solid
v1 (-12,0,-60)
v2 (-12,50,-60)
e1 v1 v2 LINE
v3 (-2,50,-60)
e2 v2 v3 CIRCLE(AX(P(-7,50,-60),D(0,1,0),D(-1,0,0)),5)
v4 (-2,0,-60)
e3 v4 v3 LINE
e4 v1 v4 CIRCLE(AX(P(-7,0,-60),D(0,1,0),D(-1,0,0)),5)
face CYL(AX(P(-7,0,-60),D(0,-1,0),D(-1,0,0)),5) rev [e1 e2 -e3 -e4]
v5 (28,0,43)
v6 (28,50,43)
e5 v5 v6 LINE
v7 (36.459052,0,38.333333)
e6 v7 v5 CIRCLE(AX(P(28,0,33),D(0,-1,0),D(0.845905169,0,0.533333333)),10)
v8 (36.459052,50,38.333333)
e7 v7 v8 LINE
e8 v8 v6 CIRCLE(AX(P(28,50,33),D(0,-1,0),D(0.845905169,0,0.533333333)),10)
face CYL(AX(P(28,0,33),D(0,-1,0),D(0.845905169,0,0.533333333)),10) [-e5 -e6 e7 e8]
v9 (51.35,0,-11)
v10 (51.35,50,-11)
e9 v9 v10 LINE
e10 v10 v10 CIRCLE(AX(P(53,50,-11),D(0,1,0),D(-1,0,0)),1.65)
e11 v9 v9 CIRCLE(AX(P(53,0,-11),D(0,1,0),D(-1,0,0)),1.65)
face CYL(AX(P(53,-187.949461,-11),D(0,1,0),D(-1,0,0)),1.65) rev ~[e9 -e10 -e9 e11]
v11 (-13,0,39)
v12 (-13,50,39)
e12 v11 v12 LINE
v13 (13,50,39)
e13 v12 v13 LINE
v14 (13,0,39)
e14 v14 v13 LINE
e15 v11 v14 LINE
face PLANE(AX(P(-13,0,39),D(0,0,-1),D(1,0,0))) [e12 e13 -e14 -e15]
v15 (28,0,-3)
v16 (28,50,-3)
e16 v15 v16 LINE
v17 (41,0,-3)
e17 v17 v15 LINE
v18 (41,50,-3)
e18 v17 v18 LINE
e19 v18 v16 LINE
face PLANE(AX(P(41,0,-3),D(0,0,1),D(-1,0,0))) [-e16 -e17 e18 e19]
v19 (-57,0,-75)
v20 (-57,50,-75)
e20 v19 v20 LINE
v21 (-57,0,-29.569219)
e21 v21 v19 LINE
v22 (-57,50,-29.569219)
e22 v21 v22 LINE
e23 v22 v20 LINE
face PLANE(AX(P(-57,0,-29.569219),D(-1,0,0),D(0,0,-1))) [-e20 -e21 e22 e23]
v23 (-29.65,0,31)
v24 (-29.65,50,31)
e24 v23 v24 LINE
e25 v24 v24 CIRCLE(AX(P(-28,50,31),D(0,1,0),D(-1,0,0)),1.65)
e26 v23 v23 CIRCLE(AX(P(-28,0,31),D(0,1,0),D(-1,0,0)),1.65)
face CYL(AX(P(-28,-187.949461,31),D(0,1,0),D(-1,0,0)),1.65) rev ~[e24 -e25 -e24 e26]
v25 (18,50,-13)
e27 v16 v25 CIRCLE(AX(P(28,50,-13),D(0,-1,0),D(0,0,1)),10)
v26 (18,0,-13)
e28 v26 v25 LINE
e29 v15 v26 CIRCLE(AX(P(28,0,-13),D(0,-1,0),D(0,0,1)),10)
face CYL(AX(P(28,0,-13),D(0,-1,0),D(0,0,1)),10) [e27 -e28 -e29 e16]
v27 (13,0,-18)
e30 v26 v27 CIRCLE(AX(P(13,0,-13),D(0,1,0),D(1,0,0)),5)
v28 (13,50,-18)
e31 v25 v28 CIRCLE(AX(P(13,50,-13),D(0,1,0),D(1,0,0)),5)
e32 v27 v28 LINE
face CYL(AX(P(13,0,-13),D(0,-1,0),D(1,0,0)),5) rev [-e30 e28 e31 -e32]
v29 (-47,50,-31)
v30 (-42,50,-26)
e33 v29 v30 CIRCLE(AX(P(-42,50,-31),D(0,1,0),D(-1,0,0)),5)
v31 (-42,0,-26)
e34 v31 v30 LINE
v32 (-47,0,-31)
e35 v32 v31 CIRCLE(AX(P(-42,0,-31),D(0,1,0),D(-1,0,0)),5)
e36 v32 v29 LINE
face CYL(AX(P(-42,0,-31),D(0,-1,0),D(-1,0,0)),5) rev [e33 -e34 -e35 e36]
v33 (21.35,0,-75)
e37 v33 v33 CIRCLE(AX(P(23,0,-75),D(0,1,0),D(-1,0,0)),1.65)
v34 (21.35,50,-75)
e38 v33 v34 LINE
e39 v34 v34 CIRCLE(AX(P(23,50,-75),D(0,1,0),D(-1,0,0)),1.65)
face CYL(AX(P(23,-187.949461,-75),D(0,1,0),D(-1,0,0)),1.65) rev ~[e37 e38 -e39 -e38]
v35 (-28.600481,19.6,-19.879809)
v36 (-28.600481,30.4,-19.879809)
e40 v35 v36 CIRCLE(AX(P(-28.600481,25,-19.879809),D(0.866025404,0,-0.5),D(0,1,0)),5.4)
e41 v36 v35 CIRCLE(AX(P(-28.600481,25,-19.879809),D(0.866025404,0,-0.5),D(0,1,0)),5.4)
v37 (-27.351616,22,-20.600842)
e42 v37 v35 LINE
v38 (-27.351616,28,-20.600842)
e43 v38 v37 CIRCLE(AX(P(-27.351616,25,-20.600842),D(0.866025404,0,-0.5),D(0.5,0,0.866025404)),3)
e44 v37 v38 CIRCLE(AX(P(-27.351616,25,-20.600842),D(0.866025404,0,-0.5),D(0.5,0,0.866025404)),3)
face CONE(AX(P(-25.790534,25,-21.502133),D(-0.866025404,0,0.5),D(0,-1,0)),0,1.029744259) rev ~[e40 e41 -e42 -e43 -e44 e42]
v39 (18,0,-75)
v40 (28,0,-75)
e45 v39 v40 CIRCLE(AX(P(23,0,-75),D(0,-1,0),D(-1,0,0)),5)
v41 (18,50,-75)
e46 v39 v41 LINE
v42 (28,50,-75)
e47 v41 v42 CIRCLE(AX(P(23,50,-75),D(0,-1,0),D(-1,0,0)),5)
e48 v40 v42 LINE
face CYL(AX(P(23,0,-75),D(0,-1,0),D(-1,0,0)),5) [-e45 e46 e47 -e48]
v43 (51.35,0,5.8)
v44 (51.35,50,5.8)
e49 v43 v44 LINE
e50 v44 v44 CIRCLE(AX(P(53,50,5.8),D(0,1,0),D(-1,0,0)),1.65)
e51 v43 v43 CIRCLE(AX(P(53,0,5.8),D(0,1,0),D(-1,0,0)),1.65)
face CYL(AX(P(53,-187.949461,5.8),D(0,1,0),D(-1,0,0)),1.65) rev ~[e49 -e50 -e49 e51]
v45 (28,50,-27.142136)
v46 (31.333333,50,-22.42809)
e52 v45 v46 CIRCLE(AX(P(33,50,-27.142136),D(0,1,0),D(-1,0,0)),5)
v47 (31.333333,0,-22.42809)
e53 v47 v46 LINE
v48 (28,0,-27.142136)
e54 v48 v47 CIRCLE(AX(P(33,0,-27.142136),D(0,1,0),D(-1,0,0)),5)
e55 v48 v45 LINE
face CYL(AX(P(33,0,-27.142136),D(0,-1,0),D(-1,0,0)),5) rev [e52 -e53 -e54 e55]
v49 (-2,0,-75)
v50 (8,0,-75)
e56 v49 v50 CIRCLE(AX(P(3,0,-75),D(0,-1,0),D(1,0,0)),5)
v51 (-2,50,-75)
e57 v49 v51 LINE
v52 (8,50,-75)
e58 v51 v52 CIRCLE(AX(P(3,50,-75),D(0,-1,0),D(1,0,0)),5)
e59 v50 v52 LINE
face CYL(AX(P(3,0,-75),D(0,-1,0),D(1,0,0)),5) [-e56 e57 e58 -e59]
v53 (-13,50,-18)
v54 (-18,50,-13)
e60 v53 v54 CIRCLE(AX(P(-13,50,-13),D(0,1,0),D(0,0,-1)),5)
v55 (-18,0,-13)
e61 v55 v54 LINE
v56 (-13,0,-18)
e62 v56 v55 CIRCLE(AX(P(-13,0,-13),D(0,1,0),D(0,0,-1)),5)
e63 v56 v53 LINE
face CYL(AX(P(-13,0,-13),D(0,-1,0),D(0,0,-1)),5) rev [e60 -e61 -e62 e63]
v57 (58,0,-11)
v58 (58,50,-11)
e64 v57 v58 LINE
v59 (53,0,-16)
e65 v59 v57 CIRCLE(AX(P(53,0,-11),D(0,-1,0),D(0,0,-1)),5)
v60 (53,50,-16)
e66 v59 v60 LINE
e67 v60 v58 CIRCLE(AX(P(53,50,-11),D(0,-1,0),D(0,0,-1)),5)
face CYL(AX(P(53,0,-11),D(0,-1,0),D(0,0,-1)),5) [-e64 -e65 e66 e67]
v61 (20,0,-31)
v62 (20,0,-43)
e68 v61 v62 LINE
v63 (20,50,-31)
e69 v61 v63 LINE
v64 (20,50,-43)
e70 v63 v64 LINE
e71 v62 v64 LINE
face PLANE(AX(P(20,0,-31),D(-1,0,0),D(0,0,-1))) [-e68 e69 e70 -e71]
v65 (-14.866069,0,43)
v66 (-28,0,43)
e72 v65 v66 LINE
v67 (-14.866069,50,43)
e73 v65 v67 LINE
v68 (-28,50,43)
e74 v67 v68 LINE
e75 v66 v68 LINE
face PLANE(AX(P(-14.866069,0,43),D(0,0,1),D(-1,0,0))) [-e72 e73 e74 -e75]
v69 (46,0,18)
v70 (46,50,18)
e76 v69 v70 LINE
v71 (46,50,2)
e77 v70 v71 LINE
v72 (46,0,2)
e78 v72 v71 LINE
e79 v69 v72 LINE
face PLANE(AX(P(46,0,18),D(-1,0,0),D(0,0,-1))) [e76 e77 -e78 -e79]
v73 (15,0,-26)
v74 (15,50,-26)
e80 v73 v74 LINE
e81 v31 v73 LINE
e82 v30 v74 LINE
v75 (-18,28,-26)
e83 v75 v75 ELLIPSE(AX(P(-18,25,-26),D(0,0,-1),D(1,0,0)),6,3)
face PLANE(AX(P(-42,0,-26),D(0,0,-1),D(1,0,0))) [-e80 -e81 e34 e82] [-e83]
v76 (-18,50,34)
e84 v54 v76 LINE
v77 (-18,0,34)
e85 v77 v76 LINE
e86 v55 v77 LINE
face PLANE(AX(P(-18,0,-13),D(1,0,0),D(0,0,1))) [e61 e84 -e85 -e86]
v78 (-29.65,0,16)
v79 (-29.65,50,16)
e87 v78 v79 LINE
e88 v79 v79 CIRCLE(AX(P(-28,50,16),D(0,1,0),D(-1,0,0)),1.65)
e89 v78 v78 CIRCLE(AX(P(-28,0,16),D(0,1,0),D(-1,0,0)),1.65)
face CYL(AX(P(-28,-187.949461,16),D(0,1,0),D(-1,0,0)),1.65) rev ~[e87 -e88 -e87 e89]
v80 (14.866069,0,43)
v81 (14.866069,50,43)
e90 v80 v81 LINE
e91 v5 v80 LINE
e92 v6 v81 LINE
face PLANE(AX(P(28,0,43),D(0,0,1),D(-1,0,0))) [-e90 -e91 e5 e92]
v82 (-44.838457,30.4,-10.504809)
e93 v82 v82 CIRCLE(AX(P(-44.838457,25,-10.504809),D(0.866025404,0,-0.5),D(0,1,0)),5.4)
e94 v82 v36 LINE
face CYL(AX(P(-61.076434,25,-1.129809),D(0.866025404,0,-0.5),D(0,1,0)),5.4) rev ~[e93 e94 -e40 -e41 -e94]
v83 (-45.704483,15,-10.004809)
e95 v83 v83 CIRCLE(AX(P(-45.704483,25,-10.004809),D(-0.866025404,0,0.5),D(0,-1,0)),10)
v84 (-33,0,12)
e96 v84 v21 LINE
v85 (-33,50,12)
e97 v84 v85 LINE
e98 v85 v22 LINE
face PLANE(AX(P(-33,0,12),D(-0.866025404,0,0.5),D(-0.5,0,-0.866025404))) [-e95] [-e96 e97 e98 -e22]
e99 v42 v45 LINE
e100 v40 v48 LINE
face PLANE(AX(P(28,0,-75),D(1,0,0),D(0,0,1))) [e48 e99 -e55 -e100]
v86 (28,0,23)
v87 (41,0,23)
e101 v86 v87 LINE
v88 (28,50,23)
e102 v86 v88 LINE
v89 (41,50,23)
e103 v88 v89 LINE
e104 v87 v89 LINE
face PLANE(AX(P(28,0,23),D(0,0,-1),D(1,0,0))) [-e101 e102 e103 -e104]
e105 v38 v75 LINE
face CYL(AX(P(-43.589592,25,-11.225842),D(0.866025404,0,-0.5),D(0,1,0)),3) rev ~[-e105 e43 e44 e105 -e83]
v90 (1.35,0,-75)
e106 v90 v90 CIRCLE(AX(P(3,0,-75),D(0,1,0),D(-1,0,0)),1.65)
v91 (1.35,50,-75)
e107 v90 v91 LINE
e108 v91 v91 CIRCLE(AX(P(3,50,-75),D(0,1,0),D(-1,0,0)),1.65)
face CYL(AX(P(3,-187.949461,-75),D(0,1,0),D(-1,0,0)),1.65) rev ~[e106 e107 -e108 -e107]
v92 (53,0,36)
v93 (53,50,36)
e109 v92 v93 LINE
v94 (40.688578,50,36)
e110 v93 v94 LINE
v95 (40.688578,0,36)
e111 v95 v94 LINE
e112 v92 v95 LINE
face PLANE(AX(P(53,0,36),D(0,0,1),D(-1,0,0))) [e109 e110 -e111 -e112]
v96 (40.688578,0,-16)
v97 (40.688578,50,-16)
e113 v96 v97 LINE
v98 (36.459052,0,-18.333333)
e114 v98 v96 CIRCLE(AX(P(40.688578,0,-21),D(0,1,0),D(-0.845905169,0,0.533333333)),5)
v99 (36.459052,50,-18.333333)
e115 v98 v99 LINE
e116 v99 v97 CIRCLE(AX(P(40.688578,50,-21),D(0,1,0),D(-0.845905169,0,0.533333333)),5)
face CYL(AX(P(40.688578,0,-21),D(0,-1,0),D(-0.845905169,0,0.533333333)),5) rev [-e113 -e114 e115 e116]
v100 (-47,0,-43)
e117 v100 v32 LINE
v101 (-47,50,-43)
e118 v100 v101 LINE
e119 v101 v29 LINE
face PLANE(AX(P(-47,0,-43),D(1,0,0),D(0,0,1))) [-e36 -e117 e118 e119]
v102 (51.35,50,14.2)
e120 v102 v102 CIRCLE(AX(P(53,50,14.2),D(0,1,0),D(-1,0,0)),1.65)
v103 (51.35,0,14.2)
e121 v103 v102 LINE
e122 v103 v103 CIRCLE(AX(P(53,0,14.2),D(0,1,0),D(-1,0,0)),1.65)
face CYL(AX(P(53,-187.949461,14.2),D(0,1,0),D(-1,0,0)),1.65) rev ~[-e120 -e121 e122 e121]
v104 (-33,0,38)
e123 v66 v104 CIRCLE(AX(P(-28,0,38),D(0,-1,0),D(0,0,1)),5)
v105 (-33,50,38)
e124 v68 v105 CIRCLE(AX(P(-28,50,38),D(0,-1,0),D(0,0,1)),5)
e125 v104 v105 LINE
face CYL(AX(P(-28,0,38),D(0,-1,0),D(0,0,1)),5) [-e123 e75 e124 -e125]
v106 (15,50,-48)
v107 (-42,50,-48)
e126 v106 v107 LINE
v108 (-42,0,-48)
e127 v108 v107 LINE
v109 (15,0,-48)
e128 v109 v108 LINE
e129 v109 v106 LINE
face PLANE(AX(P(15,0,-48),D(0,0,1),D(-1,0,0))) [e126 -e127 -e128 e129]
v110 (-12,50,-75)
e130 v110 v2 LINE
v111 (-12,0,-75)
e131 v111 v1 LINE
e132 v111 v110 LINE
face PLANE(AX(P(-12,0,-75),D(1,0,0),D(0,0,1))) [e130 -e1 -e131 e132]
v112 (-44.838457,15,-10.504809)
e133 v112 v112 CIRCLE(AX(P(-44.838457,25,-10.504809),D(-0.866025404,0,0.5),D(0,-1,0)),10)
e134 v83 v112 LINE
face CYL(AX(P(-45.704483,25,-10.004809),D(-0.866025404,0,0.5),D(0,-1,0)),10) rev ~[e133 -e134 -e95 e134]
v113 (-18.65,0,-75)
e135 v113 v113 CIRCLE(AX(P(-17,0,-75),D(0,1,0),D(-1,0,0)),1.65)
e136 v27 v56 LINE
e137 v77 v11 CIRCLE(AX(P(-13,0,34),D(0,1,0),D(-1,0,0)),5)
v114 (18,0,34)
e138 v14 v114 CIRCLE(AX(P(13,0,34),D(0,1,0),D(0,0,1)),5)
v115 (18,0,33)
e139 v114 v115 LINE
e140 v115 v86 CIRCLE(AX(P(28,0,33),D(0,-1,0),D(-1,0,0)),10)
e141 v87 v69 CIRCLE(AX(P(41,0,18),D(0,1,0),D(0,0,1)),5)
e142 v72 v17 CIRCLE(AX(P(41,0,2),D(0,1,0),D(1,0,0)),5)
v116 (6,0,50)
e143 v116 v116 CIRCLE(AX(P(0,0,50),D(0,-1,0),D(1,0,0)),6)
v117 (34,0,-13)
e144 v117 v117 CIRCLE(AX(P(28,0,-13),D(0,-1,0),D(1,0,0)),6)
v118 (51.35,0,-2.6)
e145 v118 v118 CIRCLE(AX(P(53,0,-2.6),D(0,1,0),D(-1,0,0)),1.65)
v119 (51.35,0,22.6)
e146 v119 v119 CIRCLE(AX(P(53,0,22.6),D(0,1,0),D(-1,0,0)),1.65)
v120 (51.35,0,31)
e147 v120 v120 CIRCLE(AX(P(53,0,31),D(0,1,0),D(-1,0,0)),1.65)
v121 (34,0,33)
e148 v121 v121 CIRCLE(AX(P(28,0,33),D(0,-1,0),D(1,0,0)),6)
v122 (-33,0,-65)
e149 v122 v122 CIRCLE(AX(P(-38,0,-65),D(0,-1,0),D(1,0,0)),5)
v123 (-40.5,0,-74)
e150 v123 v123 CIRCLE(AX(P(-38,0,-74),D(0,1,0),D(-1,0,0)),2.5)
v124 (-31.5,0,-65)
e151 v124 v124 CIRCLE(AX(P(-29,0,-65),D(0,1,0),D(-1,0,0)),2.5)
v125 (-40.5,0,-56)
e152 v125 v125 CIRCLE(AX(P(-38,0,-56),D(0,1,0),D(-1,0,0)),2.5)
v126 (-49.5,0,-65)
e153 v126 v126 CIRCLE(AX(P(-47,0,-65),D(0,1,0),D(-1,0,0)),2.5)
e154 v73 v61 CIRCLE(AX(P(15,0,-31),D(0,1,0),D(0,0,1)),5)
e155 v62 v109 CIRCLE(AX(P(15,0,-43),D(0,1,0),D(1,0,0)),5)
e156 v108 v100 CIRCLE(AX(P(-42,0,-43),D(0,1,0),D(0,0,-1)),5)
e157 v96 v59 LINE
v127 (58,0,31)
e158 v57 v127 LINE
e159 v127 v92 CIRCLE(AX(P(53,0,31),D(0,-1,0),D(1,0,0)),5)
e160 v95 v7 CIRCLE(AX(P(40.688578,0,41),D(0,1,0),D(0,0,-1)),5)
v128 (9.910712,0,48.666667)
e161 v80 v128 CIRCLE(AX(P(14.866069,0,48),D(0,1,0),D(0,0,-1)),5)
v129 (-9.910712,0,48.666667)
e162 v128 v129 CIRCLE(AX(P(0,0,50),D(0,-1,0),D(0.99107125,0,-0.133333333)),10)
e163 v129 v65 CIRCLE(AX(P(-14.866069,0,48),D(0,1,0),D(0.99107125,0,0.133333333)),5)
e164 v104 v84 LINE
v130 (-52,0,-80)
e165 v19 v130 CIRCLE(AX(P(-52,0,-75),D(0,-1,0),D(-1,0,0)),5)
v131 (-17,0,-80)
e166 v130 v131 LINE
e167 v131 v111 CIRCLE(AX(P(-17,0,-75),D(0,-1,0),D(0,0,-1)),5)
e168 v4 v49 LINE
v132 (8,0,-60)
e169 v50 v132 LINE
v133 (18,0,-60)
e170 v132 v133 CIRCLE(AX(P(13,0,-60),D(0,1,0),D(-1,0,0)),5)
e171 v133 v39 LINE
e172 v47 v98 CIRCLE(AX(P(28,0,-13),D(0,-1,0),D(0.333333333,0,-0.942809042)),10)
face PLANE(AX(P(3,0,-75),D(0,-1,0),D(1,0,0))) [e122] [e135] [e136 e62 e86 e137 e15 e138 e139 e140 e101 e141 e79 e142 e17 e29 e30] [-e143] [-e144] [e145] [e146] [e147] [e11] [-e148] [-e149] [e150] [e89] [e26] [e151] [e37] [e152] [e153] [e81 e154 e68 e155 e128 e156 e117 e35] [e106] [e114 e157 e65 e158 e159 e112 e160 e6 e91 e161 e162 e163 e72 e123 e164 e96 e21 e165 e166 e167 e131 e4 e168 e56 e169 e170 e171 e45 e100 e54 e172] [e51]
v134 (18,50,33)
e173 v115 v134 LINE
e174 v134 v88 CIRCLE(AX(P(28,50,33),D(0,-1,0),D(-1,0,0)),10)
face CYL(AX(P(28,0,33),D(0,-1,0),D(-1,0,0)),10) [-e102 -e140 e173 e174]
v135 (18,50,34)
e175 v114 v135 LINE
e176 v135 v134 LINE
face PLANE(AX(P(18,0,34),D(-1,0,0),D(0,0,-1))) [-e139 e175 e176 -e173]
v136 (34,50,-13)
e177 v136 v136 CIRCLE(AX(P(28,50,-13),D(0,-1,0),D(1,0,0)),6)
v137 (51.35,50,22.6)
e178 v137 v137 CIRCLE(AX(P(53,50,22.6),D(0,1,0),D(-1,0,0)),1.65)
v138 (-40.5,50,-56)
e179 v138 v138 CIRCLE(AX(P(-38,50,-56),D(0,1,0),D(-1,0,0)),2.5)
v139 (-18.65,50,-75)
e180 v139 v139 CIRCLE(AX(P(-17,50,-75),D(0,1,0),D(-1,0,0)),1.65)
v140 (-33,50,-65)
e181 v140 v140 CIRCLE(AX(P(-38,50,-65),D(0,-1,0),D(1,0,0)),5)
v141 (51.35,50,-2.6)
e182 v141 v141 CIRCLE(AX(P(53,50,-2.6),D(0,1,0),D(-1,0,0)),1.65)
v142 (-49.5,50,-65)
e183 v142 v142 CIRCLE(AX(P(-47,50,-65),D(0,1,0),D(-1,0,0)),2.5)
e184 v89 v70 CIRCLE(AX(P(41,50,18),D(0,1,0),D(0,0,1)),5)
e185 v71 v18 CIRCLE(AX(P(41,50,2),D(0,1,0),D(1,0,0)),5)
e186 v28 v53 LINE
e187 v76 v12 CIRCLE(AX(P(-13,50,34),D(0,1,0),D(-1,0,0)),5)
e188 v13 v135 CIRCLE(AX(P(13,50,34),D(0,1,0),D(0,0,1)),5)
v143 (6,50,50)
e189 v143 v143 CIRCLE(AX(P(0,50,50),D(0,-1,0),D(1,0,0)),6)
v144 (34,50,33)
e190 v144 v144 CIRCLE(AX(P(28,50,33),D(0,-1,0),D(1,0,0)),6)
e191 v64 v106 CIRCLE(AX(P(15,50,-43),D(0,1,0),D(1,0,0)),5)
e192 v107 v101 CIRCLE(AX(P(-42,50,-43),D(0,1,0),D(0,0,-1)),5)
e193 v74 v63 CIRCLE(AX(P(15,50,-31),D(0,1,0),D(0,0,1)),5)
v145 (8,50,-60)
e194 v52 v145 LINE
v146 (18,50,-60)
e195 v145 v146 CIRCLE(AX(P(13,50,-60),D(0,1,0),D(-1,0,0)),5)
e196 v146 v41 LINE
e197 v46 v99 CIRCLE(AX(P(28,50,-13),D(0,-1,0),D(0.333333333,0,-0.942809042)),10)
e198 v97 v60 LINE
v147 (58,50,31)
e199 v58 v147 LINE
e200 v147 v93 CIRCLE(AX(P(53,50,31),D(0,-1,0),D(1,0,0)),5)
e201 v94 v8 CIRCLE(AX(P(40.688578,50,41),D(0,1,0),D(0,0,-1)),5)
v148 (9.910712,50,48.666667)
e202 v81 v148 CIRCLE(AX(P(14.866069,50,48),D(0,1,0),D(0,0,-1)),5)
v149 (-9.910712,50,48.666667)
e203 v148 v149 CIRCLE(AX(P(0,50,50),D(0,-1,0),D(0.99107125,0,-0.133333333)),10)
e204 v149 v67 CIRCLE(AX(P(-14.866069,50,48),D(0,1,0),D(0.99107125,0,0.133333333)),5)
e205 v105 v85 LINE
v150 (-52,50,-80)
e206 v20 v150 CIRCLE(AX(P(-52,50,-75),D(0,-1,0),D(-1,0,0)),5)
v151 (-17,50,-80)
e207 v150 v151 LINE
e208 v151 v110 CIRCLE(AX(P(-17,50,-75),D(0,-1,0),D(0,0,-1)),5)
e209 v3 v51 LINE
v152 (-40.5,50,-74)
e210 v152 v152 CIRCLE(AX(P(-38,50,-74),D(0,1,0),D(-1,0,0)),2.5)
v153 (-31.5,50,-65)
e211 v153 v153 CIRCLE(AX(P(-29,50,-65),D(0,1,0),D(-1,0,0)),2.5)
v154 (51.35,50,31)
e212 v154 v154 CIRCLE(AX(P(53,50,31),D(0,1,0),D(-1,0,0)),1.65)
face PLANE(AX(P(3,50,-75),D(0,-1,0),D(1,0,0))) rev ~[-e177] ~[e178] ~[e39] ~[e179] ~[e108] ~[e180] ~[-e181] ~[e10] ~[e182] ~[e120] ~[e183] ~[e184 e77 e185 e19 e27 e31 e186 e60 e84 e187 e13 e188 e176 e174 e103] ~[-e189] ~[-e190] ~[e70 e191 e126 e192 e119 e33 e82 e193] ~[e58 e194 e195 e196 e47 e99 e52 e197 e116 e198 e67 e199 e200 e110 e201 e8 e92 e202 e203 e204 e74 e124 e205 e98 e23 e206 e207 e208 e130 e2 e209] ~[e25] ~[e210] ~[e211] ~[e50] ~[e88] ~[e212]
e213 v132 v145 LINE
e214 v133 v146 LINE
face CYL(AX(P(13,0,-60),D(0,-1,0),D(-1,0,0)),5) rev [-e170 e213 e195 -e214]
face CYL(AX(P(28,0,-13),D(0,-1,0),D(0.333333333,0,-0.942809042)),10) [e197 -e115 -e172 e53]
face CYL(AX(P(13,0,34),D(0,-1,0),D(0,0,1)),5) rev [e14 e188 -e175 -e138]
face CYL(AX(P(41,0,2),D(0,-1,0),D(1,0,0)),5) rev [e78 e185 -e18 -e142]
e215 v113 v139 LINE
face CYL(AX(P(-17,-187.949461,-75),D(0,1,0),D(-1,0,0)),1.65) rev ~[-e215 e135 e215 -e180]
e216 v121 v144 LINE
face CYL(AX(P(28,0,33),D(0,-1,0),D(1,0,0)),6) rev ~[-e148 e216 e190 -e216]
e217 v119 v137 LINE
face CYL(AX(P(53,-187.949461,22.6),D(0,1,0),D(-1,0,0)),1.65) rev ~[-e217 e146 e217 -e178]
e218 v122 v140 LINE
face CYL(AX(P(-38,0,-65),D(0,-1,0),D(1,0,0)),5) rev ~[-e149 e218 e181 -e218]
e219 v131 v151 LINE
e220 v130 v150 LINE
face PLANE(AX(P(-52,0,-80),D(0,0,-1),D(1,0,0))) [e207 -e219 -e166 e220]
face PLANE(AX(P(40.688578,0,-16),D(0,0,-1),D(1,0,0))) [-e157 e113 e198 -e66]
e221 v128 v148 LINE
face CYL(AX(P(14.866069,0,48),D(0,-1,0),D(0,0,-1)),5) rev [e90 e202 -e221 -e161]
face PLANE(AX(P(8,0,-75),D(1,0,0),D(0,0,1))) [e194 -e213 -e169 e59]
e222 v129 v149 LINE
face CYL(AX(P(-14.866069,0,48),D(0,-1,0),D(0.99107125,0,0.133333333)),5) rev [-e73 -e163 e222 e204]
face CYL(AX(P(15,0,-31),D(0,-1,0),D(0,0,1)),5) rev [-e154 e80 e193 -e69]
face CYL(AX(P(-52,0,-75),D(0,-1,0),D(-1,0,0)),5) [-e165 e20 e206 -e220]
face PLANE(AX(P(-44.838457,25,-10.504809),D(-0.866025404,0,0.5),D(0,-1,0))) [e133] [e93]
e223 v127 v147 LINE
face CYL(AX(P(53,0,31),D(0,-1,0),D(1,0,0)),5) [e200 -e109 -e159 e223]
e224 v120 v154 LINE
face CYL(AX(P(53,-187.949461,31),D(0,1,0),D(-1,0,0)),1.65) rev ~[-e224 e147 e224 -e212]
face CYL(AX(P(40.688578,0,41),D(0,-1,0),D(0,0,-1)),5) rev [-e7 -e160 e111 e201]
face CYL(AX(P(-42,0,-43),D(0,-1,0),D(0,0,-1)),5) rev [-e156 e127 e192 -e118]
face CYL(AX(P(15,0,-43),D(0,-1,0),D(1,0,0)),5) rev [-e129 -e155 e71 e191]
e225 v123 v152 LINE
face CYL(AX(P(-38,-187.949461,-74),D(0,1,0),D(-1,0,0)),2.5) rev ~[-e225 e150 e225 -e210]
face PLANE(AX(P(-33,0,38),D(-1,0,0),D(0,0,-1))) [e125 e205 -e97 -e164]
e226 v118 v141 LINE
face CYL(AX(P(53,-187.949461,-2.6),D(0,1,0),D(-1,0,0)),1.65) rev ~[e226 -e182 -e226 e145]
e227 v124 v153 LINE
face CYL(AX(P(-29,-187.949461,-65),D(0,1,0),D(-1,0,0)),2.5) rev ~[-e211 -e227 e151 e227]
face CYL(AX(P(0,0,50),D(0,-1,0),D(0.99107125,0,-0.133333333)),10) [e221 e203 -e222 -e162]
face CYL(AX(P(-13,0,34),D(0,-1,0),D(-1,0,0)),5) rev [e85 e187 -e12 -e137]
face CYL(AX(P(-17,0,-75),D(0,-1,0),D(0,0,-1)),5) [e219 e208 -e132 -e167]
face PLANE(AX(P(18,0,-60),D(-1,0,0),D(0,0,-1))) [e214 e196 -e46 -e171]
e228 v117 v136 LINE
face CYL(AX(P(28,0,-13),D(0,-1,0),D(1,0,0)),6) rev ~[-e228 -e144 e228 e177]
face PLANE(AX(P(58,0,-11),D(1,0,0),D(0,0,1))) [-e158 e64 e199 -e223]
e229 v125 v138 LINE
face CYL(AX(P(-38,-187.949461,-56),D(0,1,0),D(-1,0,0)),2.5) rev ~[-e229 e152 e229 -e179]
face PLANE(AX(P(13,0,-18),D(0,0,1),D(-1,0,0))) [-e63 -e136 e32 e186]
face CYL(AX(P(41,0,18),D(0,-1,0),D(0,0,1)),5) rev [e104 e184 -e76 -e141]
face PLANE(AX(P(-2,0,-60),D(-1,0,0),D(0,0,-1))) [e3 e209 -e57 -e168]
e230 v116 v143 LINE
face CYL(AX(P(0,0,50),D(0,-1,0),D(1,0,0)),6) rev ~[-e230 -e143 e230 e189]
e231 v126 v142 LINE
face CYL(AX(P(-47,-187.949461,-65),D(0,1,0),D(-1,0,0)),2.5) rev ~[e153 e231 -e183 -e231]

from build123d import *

# Parameters (mm, degrees)
F2_DEPTH  = 50
F0_R      = 6
F0_R_2    = 5
F3_DEPTH  = 50.001
F4_D      = 3.3
F5_D      = 5
F7_R      = 10
F8_DEPTH  = 1
F9_D      = 10.8
F9_DEPTH  = 18.75
F9_START  = 1
F9_TIP    = 3.2446473427
F10_D     = 6
F10_DEPTH = 18.75
F10_START = 21.1920655
F10_TIP   = 1.8025818571


with BuildPart() as f2:
    # F1 (on Front) → F2 (new body)
    with BuildSketch(Plane.XZ):
        with BuildLine():
            ThreePointArc((-2, -75), (3, -80), (8, -75))
            ThreePointArc((8, -75), (3, -70), (-2, -75))
        make_face()
        with BuildLine():
            ThreePointArc((-2, -75), (3, -70), (8, -75))
            Line((8, -75), (8, -60))
            ThreePointArc((8, -60), (13, -55), (18, -60))
            Line((18, -60), (18, -75))
            ThreePointArc((18, -75), (23, -80), (28, -75))
            Line((28, -75), (28, -27.1421356237))
            ThreePointArc((28, -27.1421356237), (28.9175170954, -24.2553842778), (31.3333333333, -22.4280904158))
            ThreePointArc((31.3333333333, -22.4280904158), (34.2415418806, -20.8130119002), (36.4590516936, -18.3333333333))
            ThreePointArc((36.4590516936, -18.3333333333), (38.2733480828, -16.6220248211), (40.6885775404, -16))
            Line((40.6885775404, -16), (53, -16))
            ThreePointArc((53, -16), (56.5355339059, -14.5355339059), (58, -11))
            Line((58, -11), (58, 31))
            ThreePointArc((58, 31), (56.5355339059, 34.5355339059), (53, 36))
            Line((53, 36), (40.6885775404, 36))
            ThreePointArc((40.6885775404, 36), (38.2733480828, 36.6220248211), (36.4590516936, 38.3333333333))
            ThreePointArc((36.4590516936, 38.3333333333), (32.8304589154, 41.7559503577), (28, 43))
            Line((28, 43), (14.8660687473, 43))
            ThreePointArc((14.8660687473, 43), (11.1022054838, 44.708597057), (9.9107124982, 48.6666666667))
            ThreePointArc((9.9107124982, 48.6666666667), (0, 60), (-9.9107124982, 48.6666666667))
            ThreePointArc((-9.9107124982, 48.6666666667), (-11.1022054838, 44.708597057), (-14.8660687473, 43))
            Line((-14.8660687473, 43), (-28, 43))
            ThreePointArc((-28, 43), (-31.5355339059, 41.5355339059), (-33, 38))
            Line((-33, 38), (-33, 12))
            Line((-33, 12), (-57, -29.5692193817))
            Line((-57, -29.5692193817), (-57, -75))
            ThreePointArc((-57, -75), (-55.5355339059, -78.5355339059), (-52, -80))
            Line((-52, -80), (-17, -80))
            ThreePointArc((-17, -80), (-13.4644660941, -78.5355339059), (-12, -75))
            Line((-12, -75), (-12, -60))
            ThreePointArc((-12, -60), (-7, -55), (-2, -60))
            Line((-2, -60), (-2, -75))
        make_face()
        with BuildLine():
            ThreePointArc((-47, -31), (-45.5355339059, -27.4644660941), (-42, -26))
            Line((-42, -26), (15, -26))
            ThreePointArc((15, -26), (18.5355339059, -27.4644660941), (20, -31))
            Line((20, -31), (20, -43))
            ThreePointArc((20, -43), (18.5355339059, -46.5355339059), (15, -48))
            Line((15, -48), (-42, -48))
            ThreePointArc((-42, -48), (-45.5355339059, -46.5355339059), (-47, -43))
            Line((-47, -43), (-47, -31))
        make_face(mode=Mode.SUBTRACT)
        with BuildLine():
            Line((-18, -13), (-18, 34))
            ThreePointArc((-18, 34), (-16.5355339059, 37.5355339059), (-13, 39))
            Line((-13, 39), (13, 39))
            ThreePointArc((13, 39), (16.5355339059, 37.5355339059), (18, 34))
            Line((18, 34), (18, 33))
            ThreePointArc((18, 33), (20.9289321881, 25.9289321881), (28, 23))
            Line((28, 23), (41, 23))
            ThreePointArc((41, 23), (44.5355339059, 21.5355339059), (46, 18))
            Line((46, 18), (46, 2))
            ThreePointArc((46, 2), (44.5355339059, -1.5355339059), (41, -3))
            Line((41, -3), (28, -3))
            ThreePointArc((28, -3), (20.9289321881, -5.9289321881), (18, -13))
            ThreePointArc((18, -13), (16.5355339059, -16.5355339059), (13, -18))
            Line((13, -18), (-13, -18))
            ThreePointArc((-13, -18), (-16.5355339059, -16.5355339059), (-18, -13))
        make_face(mode=Mode.SUBTRACT)
    extrude(amount=-F2_DEPTH)

    # F0 (on Front) → F3 (cut, through all)
    with BuildSketch(Plane.XZ):
        with Locations((0, 50)):
            Circle(F0_R)
        with Locations((28, 33)):
            Circle(F0_R)
        with Locations((28, -13)):
            Circle(F0_R)
        with Locations((-38, -65)):
            Circle(F0_R_2)
    extrude(amount=-F3_DEPTH, mode=Mode.SUBTRACT)

    # F4 (through all)
    with Locations(Plane.XZ):
        with Locations((53, 31), (53, 22.6), (53, 14.2), (53, 5.8), (53, -2.6), (53, -11), (-28, 16), (-28, 31), (-17, -75), (3, -75), (23, -75)):
            Hole(F4_D / 2)

    # F5 (through all)
    with Locations(Plane.XZ):
        with Locations((-47, -65), (-38, -56), (-29, -65), (-38, -74)):
            Hole(F5_D / 2)

    # F7 (on face) → F8 (cut)
    with BuildSketch(Plane(origin=(-29.9461524227, 0, 17.2894191624), x_dir=(0, -1, 0), z_dir=(-0.8660254038, 0, 0.5))):
        with Locations((-25, -31.5166604984)):
            Circle(F7_R)
    extrude(amount=-F8_DEPTH, mode=Mode.SUBTRACT)

    # F9
    # its depths count from where the whole tool has entered the part; down to there all is cleared
    with Locations(Plane(origin=(-29.9461524227, 0, 17.2894191624), x_dir=(0, -1, 0), z_dir=(-0.8660254038, 0, 0.5)).offset(-F9_START)):
        with Locations((-25, -31.5166604984)):
            Hole(F9_D / 2, depth=F9_DEPTH)
            with Locations((0, 0, -(F9_DEPTH + F9_TIP / 2))):  # 118° drill point
                Cone(0, F9_D / 2, F9_TIP, mode=Mode.SUBTRACT)

    # F10
    # its depths count from where the whole tool has entered the part; down to there all is cleared
    with Locations(Plane(origin=(-29.9461524227, 0, 17.2894191624), x_dir=(0, -1, 0), z_dir=(-0.8660254038, 0, 0.5))):
        with Locations((-25, -31.5166604984)):
            Hole(F10_D / 2, depth=F10_START)
    with Locations(Plane(origin=(-29.9461524227, 0, 17.2894191624), x_dir=(0, -1, 0), z_dir=(-0.8660254038, 0, 0.5)).offset(-F10_START)):
        with Locations((-25, -31.5166604984)):
            Hole(F10_D / 2, depth=F10_DEPTH)
            with Locations((0, 0, -(F10_DEPTH + F10_TIP / 2))):  # 118° drill point
                Cone(0, F10_D / 2, F10_TIP, mode=Mode.SUBTRACT)


solid = f2.part
